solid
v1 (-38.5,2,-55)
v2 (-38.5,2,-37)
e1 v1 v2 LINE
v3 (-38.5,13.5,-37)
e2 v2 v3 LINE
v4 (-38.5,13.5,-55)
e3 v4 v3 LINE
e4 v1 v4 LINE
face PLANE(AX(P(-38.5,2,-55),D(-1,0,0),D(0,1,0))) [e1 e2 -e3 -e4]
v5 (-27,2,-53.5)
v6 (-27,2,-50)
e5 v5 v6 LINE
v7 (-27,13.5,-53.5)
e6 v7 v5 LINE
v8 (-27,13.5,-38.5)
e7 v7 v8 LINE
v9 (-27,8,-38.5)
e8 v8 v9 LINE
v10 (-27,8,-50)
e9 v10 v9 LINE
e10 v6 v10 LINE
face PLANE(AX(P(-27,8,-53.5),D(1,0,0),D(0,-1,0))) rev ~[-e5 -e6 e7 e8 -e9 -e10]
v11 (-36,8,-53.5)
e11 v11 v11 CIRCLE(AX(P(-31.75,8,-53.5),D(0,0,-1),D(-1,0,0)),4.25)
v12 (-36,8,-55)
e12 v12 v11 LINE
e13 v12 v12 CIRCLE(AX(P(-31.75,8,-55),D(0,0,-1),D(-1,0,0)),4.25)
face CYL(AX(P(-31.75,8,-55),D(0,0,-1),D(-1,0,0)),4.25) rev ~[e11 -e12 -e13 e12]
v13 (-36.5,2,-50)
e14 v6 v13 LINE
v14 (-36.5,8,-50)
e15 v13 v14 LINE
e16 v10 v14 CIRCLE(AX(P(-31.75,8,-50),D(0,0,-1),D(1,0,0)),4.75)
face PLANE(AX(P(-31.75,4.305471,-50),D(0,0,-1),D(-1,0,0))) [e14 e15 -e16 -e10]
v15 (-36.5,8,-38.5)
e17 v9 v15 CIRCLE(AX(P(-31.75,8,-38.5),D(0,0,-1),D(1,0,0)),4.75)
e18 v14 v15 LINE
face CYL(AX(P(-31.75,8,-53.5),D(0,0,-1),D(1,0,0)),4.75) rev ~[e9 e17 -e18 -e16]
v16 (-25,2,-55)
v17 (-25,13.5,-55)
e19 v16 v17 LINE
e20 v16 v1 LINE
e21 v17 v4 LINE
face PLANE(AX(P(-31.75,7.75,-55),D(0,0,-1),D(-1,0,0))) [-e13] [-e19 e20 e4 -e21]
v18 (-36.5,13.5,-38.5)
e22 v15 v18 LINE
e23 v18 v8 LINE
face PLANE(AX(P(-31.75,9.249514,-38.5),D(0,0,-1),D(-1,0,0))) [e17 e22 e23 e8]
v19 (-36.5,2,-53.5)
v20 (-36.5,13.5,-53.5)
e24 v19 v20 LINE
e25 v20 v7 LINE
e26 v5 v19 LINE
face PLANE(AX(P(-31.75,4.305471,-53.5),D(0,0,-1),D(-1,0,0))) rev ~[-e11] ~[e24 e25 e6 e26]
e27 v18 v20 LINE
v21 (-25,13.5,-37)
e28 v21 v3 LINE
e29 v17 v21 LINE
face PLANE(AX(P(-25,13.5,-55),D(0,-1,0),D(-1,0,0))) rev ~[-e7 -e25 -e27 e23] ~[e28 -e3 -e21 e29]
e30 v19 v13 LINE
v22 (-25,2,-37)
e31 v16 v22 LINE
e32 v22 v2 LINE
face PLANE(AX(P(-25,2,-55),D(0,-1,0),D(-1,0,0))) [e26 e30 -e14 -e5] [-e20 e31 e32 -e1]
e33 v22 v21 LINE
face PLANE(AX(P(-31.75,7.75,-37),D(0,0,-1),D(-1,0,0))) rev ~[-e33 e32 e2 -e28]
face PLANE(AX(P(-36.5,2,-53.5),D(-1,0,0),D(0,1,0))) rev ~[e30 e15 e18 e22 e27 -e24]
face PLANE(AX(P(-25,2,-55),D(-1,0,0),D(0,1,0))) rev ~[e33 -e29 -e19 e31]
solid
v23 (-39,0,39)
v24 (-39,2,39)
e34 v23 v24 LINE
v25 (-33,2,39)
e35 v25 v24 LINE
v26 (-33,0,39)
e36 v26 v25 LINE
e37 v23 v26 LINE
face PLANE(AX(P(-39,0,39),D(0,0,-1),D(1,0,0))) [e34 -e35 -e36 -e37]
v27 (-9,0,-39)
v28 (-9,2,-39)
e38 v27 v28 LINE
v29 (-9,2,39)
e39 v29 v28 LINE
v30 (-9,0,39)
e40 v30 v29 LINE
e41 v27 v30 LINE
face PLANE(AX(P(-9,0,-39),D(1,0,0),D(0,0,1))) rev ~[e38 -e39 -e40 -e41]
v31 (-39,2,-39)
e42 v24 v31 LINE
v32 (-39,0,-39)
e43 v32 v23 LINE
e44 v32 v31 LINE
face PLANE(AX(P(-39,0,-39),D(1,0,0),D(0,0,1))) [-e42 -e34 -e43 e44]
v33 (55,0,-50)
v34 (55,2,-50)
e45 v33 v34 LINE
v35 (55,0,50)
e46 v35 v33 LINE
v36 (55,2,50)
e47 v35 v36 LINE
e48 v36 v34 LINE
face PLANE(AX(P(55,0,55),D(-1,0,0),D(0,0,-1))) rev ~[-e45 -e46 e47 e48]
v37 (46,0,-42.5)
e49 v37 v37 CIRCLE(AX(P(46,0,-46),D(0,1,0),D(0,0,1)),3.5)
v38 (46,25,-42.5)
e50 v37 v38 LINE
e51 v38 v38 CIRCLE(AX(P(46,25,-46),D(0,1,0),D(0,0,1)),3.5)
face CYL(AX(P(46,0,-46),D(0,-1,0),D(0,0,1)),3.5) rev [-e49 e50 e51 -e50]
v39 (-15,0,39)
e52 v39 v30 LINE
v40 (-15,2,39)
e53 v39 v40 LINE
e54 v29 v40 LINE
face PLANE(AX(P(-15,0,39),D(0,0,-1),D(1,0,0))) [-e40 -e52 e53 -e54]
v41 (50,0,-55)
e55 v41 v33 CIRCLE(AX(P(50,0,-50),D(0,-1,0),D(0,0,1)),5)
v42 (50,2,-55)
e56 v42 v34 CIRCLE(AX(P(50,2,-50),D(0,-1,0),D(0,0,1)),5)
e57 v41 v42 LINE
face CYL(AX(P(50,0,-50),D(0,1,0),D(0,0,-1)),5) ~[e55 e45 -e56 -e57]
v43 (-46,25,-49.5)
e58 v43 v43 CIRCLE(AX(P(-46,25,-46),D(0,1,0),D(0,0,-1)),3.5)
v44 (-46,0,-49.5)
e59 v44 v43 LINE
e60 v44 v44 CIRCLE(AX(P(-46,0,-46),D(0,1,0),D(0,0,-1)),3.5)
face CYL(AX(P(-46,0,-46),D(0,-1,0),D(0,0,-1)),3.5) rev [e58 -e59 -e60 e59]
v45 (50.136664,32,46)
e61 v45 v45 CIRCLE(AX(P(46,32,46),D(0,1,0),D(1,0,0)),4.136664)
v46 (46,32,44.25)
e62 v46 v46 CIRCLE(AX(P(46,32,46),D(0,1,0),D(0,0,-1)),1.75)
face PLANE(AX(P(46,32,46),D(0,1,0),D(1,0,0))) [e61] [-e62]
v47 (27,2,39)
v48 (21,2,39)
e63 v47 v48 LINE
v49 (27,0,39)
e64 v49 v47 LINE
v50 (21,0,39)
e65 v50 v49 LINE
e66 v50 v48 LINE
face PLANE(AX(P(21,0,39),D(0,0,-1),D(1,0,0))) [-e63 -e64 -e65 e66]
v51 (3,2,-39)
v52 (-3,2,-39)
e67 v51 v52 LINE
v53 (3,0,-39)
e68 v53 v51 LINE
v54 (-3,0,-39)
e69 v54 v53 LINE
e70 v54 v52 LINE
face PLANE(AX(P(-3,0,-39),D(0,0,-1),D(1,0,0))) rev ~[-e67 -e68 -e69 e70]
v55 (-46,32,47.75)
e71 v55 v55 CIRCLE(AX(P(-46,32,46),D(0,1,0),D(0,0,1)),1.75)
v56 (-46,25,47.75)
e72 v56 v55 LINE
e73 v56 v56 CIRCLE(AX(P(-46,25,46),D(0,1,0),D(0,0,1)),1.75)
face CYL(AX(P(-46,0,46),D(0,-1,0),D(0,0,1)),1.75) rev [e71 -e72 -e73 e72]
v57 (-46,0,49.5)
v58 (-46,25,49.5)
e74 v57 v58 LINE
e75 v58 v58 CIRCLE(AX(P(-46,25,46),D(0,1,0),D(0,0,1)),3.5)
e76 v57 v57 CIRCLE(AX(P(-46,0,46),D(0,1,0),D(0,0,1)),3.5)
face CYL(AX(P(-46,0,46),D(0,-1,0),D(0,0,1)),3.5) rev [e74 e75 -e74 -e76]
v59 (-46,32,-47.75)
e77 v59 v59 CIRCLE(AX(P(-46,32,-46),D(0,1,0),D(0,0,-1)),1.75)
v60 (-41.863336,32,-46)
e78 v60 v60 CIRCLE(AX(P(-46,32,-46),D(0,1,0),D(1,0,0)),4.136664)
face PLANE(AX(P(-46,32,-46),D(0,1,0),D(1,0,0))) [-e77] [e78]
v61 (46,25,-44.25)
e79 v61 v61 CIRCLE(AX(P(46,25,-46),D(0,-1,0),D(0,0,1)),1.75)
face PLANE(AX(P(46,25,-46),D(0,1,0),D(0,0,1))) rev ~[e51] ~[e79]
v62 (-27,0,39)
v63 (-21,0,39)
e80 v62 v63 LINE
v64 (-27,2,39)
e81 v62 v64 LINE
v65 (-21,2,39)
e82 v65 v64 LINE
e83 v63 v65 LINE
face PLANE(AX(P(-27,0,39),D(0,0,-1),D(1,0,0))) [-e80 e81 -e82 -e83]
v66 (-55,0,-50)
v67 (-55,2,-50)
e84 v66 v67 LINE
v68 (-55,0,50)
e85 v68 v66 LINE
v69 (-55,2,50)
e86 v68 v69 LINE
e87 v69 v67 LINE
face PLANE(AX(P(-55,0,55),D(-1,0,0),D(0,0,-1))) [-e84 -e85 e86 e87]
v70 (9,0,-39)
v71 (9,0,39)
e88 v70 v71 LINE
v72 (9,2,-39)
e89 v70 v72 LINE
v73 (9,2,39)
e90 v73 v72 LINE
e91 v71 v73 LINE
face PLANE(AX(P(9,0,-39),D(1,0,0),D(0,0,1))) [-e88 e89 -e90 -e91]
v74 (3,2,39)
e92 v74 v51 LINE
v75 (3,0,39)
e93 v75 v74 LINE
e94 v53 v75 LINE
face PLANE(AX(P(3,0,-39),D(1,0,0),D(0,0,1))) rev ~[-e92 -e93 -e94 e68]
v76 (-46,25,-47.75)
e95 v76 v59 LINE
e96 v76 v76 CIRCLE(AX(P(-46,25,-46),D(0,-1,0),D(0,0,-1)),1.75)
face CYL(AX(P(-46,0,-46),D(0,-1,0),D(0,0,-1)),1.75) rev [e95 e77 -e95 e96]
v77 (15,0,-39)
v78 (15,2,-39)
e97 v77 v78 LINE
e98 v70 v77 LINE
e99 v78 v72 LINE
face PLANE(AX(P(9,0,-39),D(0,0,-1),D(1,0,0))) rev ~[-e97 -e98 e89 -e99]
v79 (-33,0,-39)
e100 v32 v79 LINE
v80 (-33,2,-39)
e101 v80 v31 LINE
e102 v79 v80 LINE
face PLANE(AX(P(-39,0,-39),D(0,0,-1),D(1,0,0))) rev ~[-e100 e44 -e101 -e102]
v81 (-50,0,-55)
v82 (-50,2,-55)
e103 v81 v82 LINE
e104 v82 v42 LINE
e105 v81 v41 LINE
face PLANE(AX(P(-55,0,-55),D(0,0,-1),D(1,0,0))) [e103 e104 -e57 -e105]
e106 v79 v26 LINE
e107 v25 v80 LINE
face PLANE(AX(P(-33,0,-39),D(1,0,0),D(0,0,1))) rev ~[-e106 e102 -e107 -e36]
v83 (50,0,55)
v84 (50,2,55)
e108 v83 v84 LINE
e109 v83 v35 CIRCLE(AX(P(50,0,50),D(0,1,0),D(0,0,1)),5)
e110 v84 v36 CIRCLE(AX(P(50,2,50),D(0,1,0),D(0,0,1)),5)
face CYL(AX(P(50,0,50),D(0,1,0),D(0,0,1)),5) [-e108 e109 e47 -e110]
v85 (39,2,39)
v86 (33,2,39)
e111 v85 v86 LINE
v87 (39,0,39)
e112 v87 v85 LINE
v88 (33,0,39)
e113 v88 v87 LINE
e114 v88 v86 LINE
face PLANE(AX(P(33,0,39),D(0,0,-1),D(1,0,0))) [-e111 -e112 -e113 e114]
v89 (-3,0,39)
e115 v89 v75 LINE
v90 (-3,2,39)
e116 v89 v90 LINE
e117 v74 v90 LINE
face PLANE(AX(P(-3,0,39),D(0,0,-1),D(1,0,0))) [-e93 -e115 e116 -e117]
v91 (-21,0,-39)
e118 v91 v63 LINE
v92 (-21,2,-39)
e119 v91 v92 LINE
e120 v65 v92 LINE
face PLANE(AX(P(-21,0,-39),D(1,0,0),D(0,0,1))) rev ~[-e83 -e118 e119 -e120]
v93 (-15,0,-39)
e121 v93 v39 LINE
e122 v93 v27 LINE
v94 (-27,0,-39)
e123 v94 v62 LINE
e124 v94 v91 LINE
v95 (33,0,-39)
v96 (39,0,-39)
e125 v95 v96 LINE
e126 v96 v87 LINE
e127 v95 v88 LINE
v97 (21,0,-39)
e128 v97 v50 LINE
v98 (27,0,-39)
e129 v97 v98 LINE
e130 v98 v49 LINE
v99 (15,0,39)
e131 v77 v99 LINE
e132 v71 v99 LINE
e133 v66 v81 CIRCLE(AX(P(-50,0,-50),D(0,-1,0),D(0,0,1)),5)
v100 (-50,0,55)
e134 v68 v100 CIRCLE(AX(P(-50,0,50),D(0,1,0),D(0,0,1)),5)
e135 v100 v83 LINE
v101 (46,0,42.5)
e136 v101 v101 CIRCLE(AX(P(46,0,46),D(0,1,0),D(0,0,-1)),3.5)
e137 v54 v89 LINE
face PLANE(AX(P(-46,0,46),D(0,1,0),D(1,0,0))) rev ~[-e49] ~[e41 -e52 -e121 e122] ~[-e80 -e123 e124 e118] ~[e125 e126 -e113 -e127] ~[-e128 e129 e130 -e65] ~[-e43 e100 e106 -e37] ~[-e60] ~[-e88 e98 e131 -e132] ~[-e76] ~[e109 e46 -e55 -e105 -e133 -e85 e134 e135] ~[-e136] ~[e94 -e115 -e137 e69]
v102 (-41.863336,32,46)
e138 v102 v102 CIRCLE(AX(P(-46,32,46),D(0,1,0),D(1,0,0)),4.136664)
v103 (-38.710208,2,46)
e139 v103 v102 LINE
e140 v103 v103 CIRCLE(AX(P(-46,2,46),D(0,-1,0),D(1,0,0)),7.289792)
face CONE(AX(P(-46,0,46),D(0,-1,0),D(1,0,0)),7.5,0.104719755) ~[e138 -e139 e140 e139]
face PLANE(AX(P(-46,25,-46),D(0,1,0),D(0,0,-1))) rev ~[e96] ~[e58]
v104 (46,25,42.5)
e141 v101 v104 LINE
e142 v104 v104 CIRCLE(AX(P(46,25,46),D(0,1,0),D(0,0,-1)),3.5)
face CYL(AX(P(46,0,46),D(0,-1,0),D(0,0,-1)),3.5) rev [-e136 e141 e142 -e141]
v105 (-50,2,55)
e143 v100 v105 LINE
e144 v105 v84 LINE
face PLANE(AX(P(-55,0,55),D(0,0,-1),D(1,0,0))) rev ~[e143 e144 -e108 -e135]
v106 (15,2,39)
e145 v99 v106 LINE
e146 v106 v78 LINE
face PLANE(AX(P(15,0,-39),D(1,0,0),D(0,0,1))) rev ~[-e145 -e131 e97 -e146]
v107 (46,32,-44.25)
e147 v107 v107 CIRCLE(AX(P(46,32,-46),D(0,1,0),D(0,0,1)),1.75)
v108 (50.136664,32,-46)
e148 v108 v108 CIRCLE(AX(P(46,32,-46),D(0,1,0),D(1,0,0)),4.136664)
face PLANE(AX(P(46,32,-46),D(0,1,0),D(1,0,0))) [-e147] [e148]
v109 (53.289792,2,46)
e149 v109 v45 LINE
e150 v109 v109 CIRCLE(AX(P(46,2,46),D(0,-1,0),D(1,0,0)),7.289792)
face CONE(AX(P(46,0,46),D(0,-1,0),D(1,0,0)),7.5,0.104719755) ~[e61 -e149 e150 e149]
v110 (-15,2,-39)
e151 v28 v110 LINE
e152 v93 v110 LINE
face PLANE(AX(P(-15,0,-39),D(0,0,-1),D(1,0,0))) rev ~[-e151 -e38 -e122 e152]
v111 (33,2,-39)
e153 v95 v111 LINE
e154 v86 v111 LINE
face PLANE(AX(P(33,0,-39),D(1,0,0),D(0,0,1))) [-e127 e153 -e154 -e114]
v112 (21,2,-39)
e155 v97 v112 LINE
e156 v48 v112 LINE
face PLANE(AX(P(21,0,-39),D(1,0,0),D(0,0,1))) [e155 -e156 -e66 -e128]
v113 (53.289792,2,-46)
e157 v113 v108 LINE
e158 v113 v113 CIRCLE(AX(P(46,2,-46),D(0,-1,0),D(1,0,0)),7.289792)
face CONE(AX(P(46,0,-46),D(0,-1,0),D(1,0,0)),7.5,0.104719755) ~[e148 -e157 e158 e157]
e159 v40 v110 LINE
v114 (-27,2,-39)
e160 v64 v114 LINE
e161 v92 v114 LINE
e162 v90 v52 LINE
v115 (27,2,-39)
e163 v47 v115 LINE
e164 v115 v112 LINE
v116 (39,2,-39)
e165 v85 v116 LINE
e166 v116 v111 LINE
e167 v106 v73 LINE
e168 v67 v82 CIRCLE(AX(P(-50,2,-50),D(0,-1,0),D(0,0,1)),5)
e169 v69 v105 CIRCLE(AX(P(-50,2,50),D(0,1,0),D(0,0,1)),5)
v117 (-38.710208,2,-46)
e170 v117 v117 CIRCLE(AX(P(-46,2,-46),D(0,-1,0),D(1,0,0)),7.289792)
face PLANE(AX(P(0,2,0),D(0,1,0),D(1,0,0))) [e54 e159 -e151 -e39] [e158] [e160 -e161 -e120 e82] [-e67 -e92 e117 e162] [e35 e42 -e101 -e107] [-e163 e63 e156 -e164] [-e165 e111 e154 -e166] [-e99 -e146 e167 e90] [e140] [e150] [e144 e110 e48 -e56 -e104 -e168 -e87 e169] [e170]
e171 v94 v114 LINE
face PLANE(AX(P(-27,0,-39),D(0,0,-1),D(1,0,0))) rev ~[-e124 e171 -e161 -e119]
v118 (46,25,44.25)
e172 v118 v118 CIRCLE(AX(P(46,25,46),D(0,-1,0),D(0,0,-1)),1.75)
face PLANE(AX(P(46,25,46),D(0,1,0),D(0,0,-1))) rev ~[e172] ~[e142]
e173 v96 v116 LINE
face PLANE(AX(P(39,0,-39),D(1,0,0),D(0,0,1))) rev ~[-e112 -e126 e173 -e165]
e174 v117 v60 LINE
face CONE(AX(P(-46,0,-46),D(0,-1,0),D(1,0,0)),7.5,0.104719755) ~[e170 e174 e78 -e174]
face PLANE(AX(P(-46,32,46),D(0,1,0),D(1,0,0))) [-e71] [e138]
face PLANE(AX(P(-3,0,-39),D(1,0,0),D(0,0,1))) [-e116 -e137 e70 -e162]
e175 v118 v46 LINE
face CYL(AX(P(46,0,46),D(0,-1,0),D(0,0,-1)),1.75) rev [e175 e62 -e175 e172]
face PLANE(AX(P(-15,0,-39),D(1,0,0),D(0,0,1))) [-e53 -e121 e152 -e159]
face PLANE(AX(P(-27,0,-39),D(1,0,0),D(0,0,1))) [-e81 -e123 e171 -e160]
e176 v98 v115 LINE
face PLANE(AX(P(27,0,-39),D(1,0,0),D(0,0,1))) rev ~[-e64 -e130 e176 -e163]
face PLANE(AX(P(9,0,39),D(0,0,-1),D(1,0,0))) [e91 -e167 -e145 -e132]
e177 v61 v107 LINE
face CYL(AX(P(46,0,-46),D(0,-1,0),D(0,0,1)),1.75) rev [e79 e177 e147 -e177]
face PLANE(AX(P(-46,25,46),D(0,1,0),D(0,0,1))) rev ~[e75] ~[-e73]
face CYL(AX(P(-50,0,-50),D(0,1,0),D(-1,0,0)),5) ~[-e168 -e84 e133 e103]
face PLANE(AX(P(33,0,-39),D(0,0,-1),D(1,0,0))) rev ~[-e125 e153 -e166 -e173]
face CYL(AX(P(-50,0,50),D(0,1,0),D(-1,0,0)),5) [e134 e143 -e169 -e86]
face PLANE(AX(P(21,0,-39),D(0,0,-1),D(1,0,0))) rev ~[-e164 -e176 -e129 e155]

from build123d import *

# Parameters (mm, degrees)
SKETCH_1_R                = 1.75
EXTRUDE_1_DEPTH           = 2
EXTRUDE_1_2_DEPTH         = 2
EXTRUDE_1_3_DEPTH         = 2
SKETCH_1_W                = 110
SKETCH_1_H                = 110
SKETCH_1_R_2              = 3.5
EXTRUDE_1_4_DEPTH         = 2
SKETCH_1_3_R              = 7.5
EXTRUDE_2_DEPTH           = 32
EXTRUDE_2_DRAFT           = 6
EXTRUDE_2_PROFILE_2_DEPTH = 32
EXTRUDE_2_PROFILE_2_DRAFT = 6
EXTRUDE_2_PROFILE_3_DEPTH = 32
EXTRUDE_2_PROFILE_3_DRAFT = 6
EXTRUDE_2_PROFILE_4_DEPTH = 32
EXTRUDE_2_PROFILE_4_DRAFT = 6
SKETCH_1_4_R              = 1.75
CUT_EXTRUDE_1_DEPTH       = 32
FILLET_1_R                = 5
SKETCH_2_W                = 6
SKETCH_2_H                = 78
CUT_EXTRUDE_2_DEPTH       = 85.107074613
SKETCH_3_W                = 13.5
SKETCH_3_H                = 11.5
EXTRUDE_6_DEPTH           = 18
CUT_EXTRUDE_START         = -1.5
SKETCH_3_5_R              = 4.25
CUT_EXTRUDE_4_DEPTH       = 3.5
SKETCH_3_6_R              = 4.25
CUT_EXTRUDE_5_DEPTH       = 15
SKETCH_1_5_R              = 3.5
SKETCH_1_5_R_2            = 1.75
CUT_EXTRUDE_6_DEPTH       = 25
SKETCH_3_7_R              = 4.25
CUT_EXTRUDE_7_DEPTH       = 16.5


with BuildPart() as part:
    # 草图1 → 凸台-拉伸1 (new body)
    with BuildSketch(Plane(origin=(0, 0, 0), x_dir=(1, 0, 0), z_dir=(0, 1, 0))):
        with Locations(Location((46, -46, 0), (0, 0, 270))):
            Circle(SKETCH_1_R)
    extrude(amount=EXTRUDE_1_DEPTH)


with BuildPart() as body_2:
    # 草图1 → Extrude 1 2 (new body)
    with BuildSketch(Plane(origin=(0, 0, 0), x_dir=(1, 0, 0), z_dir=(0, 1, 0))):
        with Locations(Location((46, 46, 0), (0, 0, 270))):
            Circle(SKETCH_1_R)
    extrude(amount=EXTRUDE_1_2_DEPTH)


with BuildPart() as body_3:
    # 草图1 → Extrude 1 3 (new body)
    with BuildSketch(Plane(origin=(0, 0, 0), x_dir=(1, 0, 0), z_dir=(0, 1, 0))):
        with Locations(Location((-46, 46, 0), (0, 0, 90))):
            Circle(SKETCH_1_R)
    extrude(amount=EXTRUDE_1_3_DEPTH)


with BuildPart() as body_4:
    # 草图1 → Extrude 1 4 (new body)
    with BuildSketch(Plane(origin=(0, 0, 0), x_dir=(1, 0, 0), z_dir=(0, 1, 0))):
        Rectangle(SKETCH_1_W, SKETCH_1_H)
        with Locations(Location((-46, 46, 0), (0, 0, 270))):
            Circle(SKETCH_1_R_2, mode=Mode.SUBTRACT)
        with Locations(Location((46, -46, 0), (0, 0, 270))):
            Circle(SKETCH_1_R_2, mode=Mode.SUBTRACT)
        with Locations(Location((46, 46, 0), (0, 0, 270))):
            Circle(SKETCH_1_R_2, mode=Mode.SUBTRACT)
    extrude(amount=EXTRUDE_1_4_DEPTH)


with BuildPart() as extrude_2_tool:
    # 草图1<3> → 凸台-拉伸2 (with draft: the straight prism first)
    with BuildSketch(Plane(origin=(0, 0, 0), x_dir=(1, 0, 0), z_dir=(0, 1, 0))):
        with Locations((-46, -46)):
            Circle(SKETCH_1_3_R)
    extrude(amount=EXTRUDE_2_DEPTH)
    # 凸台-拉伸2: the draft: its side faces are tilted about the plane it starts from
    extrude_2_sides = [extrude_2_tool.faces().sort_by_distance(p)[0] for p in [
        (-53.5, 16, 46),
    ]]
    draft(extrude_2_sides, Plane(origin=(0, 0, 0), x_dir=(1, 0, 0), z_dir=(0, 1, 0)), EXTRUDE_2_DRAFT)


with BuildPart() as body_4_1:
    add(body_4.part)

    # 凸台-拉伸2: add extrude_2_tool
    add(extrude_2_tool.part)


with BuildPart() as extrude_2_profile_2_tool:
    # 草图1<3> → 凸台-拉伸2 profile 2 (with draft: the straight prism first)
    with BuildSketch(Plane(origin=(0, 0, 0), x_dir=(1, 0, 0), z_dir=(0, 1, 0))):
        with Locations((46, -46)):
            Circle(SKETCH_1_3_R)
    extrude(amount=EXTRUDE_2_PROFILE_2_DEPTH)
    # 凸台-拉伸2 profile 2: the draft: its side faces are tilted about the plane it starts from
    extrude_2_profile_2_sides = [extrude_2_profile_2_tool.faces().sort_by_distance(p)[0] for p in [
        (38.5, 16, 46),
    ]]
    draft(extrude_2_profile_2_sides, Plane(origin=(0, 0, 0), x_dir=(1, 0, 0), z_dir=(0, 1, 0)), EXTRUDE_2_PROFILE_2_DRAFT)


with BuildPart() as body_4_2:
    add(body_4_1.part)

    # 凸台-拉伸2 profile 2: add extrude_2_profile_2_tool
    add(extrude_2_profile_2_tool.part)


with BuildPart() as extrude_2_profile_3_tool:
    # 草图1<3> → 凸台-拉伸2 profile 3 (with draft: the straight prism first)
    with BuildSketch(Plane(origin=(0, 0, 0), x_dir=(1, 0, 0), z_dir=(0, 1, 0))):
        with Locations((46, 46)):
            Circle(SKETCH_1_3_R)
    extrude(amount=EXTRUDE_2_PROFILE_3_DEPTH)
    # 凸台-拉伸2 profile 3: the draft: its side faces are tilted about the plane it starts from
    extrude_2_profile_3_sides = [extrude_2_profile_3_tool.faces().sort_by_distance(p)[0] for p in [
        (38.5, 16, -46),
    ]]
    draft(extrude_2_profile_3_sides, Plane(origin=(0, 0, 0), x_dir=(1, 0, 0), z_dir=(0, 1, 0)), EXTRUDE_2_PROFILE_3_DRAFT)


with BuildPart() as body_4_3:
    add(body_4_2.part)

    # 凸台-拉伸2 profile 3: add extrude_2_profile_3_tool
    add(extrude_2_profile_3_tool.part)


with BuildPart() as extrude_2_profile_4_tool:
    # 草图1<3> → 凸台-拉伸2 profile 4 (with draft: the straight prism first)
    with BuildSketch(Plane(origin=(0, 0, 0), x_dir=(1, 0, 0), z_dir=(0, 1, 0))):
        with Locations((-46, 46)):
            Circle(SKETCH_1_3_R)
    extrude(amount=EXTRUDE_2_PROFILE_4_DEPTH)
    # 凸台-拉伸2 profile 4: the draft: its side faces are tilted about the plane it starts from
    extrude_2_profile_4_sides = [extrude_2_profile_4_tool.faces().sort_by_distance(p)[0] for p in [
        (-53.5, 16, -46),
    ]]
    draft(extrude_2_profile_4_sides, Plane(origin=(0, 0, 0), x_dir=(1, 0, 0), z_dir=(0, 1, 0)), EXTRUDE_2_PROFILE_4_DRAFT)


with BuildPart() as body_4_4:
    add(body_4_3.part)

    # 凸台-拉伸2 profile 4: add extrude_2_profile_4_tool
    add(extrude_2_profile_4_tool.part)


with BuildPart() as cut_extrude_1_tool:
    # 草图1<4> → 切除-拉伸1 (new body)
    with BuildSketch(Plane(origin=(0, 0, 0), x_dir=(1, 0, 0), z_dir=(0, 1, 0))):
        with Locations(Location((-46, 46, 0), (0, 0, 90))):
            Circle(SKETCH_1_4_R)
        with Locations(Location((-46, -46, 0), (0, 0, 270))):
            Circle(SKETCH_1_4_R)
        with Locations(Location((46, -46, 0), (0, 0, 90))):
            Circle(SKETCH_1_4_R)
        with Locations(Location((46, 46, 0), (0, 0, 270))):
            Circle(SKETCH_1_4_R)
    extrude(amount=CUT_EXTRUDE_1_DEPTH)


with BuildPart() as part_1:
    add(part.part)

    # 切除-拉伸1: cut by cut_extrude_1_tool
    add(cut_extrude_1_tool.part, mode=Mode.SUBTRACT)


with BuildPart() as body_2_1:
    add(body_2.part)

    # 切除-拉伸1: cut by cut_extrude_1_tool
    add(cut_extrude_1_tool.part, mode=Mode.SUBTRACT)


with BuildPart() as body_3_1:
    add(body_3.part)

    # 切除-拉伸1: cut by cut_extrude_1_tool
    add(cut_extrude_1_tool.part, mode=Mode.SUBTRACT)


with BuildPart() as body_4_5:
    add(body_4_4.part)

    # 切除-拉伸1: cut by cut_extrude_1_tool
    add(cut_extrude_1_tool.part, mode=Mode.SUBTRACT)

    # 圆角1
    fillet_1_edges = [body_4_5.edges().sort_by_distance(p)[0] for p in [
        (55, 1, 55),
        (-55, 1, 55),
        (-55, 1, -55),
        (55, 1, -55),
    ]]
    fillet(fillet_1_edges, radius=FILLET_1_R)

    # 草图2 → 切除-拉伸2 (cut, through all)
    with BuildSketch(Plane.XZ):
        with Locations((-36, 0)):
            Rectangle(SKETCH_2_W, SKETCH_2_H)
        with Locations((-24, 0)):
            Rectangle(SKETCH_2_W, SKETCH_2_H)
        with Locations((-12, 0)):
            Rectangle(SKETCH_2_W, SKETCH_2_H)
        Rectangle(SKETCH_2_W, SKETCH_2_H)
        with Locations((12, 0)):
            Rectangle(SKETCH_2_W, SKETCH_2_H)
        with Locations((24, 0)):
            Rectangle(SKETCH_2_W, SKETCH_2_H)
        with Locations((36, 0)):
            Rectangle(SKETCH_2_W, SKETCH_2_H)
    extrude(amount=-CUT_EXTRUDE_2_DEPTH, mode=Mode.SUBTRACT)

    # 草图1<5> → 切除-拉伸6 (cut)
    # profile 1 of 4: a face of its own
    with BuildSketch(Plane(origin=(0, 0, 0), x_dir=(1, 0, 0), z_dir=(0, 1, 0))):
        with Locations(Location((-46, -46, 0), (0, 0, 270))):
            Circle(SKETCH_1_5_R)
        with Locations(Location((-46, -46, 0), (0, 0, 270))):
            Circle(SKETCH_1_5_R_2, mode=Mode.SUBTRACT)
    # profile 2 of 4: a face of its own
    with BuildSketch(Plane(origin=(0, 0, 0), x_dir=(1, 0, 0), z_dir=(0, 1, 0))):
        with Locations(Location((46, -46, 0), (0, 0, 90))):
            Circle(SKETCH_1_5_R)
    # profile 3 of 4: a face of its own
    with BuildSketch(Plane(origin=(0, 0, 0), x_dir=(1, 0, 0), z_dir=(0, 1, 0))):
        with Locations(Location((-46, 46, 0), (0, 0, 90))):
            Circle(SKETCH_1_5_R)
    # profile 4 of 4: a face of its own
    with BuildSketch(Plane(origin=(0, 0, 0), x_dir=(1, 0, 0), z_dir=(0, 1, 0))):
        with Locations(Location((46, 46, 0), (0, 0, 270))):
            Circle(SKETCH_1_5_R)
    extrude(amount=CUT_EXTRUDE_6_DEPTH, mode=Mode.SUBTRACT)


with BuildPart() as body_2_2:
    # 草图3 → 凸台-拉伸6 (new body)
    with BuildSketch(Plane(origin=(0, 0, -55), x_dir=(-1, 0, 0), z_dir=(0, 0, -1))):
        with Locations((31.75, 7.75)):
            Rectangle(SKETCH_3_W, SKETCH_3_H)
    extrude(amount=-EXTRUDE_6_DEPTH)

    # 草图3<5> → 切除-拉伸4 (cut)
    # profile 1 of 2: a face of its own
    with BuildSketch(Plane(origin=(0, 0, -55), x_dir=(-1, 0, 0), z_dir=(0, 0, -1)).offset(CUT_EXTRUDE_START)):
        with BuildLine():
            ThreePointArc((27, 8), (31.75, 3.25), (36.5, 8))
            Line((36.5, 8), (36.5, 13.5))
            Line((36.5, 13.5), (27, 13.5))
            Line((27, 13.5), (27, 8))
        make_face()
        with Locations((31.75, 8)):
            Circle(SKETCH_3_5_R, mode=Mode.SUBTRACT)
    # profile 2 of 2: a face of its own
    with BuildSketch(Plane(origin=(0, 0, -55), x_dir=(-1, 0, 0), z_dir=(0, 0, -1)).offset(CUT_EXTRUDE_START)):
        with BuildLine():
            Line((27, 2), (36.5, 2))
            Line((36.5, 2), (36.5, 8))
            ThreePointArc((36.5, 8), (31.75, 3.25), (27, 8))
            Line((27, 8), (27, 2))
        make_face()
    extrude(amount=-CUT_EXTRUDE_4_DEPTH, mode=Mode.SUBTRACT)

    # 草图3<6> → 切除-拉伸5 (cut)
    with BuildSketch(Plane(origin=(0, 0, -55), x_dir=(-1, 0, 0), z_dir=(0, 0, -1)).offset(CUT_EXTRUDE_START)):
        with BuildLine():
            ThreePointArc((27, 8), (31.75, 3.25), (36.5, 8))
            Line((36.5, 8), (36.5, 13.5))
            Line((36.5, 13.5), (27, 13.5))
            Line((27, 13.5), (27, 8))
        make_face()
        with Locations((31.75, 8)):
            Circle(SKETCH_3_6_R, mode=Mode.SUBTRACT)
    extrude(amount=-CUT_EXTRUDE_5_DEPTH, mode=Mode.SUBTRACT)

    # 草图3<7> → 切除-拉伸7 (cut)
    with BuildSketch(Plane(origin=(0, 0, -55), x_dir=(-1, 0, 0), z_dir=(0, 0, -1))):
        with Locations((31.75, 8)):
            Circle(SKETCH_3_7_R)
    extrude(amount=-CUT_EXTRUDE_7_DEPTH, mode=Mode.SUBTRACT)


solid = Compound([body_4_5.part, body_2_2.part])
